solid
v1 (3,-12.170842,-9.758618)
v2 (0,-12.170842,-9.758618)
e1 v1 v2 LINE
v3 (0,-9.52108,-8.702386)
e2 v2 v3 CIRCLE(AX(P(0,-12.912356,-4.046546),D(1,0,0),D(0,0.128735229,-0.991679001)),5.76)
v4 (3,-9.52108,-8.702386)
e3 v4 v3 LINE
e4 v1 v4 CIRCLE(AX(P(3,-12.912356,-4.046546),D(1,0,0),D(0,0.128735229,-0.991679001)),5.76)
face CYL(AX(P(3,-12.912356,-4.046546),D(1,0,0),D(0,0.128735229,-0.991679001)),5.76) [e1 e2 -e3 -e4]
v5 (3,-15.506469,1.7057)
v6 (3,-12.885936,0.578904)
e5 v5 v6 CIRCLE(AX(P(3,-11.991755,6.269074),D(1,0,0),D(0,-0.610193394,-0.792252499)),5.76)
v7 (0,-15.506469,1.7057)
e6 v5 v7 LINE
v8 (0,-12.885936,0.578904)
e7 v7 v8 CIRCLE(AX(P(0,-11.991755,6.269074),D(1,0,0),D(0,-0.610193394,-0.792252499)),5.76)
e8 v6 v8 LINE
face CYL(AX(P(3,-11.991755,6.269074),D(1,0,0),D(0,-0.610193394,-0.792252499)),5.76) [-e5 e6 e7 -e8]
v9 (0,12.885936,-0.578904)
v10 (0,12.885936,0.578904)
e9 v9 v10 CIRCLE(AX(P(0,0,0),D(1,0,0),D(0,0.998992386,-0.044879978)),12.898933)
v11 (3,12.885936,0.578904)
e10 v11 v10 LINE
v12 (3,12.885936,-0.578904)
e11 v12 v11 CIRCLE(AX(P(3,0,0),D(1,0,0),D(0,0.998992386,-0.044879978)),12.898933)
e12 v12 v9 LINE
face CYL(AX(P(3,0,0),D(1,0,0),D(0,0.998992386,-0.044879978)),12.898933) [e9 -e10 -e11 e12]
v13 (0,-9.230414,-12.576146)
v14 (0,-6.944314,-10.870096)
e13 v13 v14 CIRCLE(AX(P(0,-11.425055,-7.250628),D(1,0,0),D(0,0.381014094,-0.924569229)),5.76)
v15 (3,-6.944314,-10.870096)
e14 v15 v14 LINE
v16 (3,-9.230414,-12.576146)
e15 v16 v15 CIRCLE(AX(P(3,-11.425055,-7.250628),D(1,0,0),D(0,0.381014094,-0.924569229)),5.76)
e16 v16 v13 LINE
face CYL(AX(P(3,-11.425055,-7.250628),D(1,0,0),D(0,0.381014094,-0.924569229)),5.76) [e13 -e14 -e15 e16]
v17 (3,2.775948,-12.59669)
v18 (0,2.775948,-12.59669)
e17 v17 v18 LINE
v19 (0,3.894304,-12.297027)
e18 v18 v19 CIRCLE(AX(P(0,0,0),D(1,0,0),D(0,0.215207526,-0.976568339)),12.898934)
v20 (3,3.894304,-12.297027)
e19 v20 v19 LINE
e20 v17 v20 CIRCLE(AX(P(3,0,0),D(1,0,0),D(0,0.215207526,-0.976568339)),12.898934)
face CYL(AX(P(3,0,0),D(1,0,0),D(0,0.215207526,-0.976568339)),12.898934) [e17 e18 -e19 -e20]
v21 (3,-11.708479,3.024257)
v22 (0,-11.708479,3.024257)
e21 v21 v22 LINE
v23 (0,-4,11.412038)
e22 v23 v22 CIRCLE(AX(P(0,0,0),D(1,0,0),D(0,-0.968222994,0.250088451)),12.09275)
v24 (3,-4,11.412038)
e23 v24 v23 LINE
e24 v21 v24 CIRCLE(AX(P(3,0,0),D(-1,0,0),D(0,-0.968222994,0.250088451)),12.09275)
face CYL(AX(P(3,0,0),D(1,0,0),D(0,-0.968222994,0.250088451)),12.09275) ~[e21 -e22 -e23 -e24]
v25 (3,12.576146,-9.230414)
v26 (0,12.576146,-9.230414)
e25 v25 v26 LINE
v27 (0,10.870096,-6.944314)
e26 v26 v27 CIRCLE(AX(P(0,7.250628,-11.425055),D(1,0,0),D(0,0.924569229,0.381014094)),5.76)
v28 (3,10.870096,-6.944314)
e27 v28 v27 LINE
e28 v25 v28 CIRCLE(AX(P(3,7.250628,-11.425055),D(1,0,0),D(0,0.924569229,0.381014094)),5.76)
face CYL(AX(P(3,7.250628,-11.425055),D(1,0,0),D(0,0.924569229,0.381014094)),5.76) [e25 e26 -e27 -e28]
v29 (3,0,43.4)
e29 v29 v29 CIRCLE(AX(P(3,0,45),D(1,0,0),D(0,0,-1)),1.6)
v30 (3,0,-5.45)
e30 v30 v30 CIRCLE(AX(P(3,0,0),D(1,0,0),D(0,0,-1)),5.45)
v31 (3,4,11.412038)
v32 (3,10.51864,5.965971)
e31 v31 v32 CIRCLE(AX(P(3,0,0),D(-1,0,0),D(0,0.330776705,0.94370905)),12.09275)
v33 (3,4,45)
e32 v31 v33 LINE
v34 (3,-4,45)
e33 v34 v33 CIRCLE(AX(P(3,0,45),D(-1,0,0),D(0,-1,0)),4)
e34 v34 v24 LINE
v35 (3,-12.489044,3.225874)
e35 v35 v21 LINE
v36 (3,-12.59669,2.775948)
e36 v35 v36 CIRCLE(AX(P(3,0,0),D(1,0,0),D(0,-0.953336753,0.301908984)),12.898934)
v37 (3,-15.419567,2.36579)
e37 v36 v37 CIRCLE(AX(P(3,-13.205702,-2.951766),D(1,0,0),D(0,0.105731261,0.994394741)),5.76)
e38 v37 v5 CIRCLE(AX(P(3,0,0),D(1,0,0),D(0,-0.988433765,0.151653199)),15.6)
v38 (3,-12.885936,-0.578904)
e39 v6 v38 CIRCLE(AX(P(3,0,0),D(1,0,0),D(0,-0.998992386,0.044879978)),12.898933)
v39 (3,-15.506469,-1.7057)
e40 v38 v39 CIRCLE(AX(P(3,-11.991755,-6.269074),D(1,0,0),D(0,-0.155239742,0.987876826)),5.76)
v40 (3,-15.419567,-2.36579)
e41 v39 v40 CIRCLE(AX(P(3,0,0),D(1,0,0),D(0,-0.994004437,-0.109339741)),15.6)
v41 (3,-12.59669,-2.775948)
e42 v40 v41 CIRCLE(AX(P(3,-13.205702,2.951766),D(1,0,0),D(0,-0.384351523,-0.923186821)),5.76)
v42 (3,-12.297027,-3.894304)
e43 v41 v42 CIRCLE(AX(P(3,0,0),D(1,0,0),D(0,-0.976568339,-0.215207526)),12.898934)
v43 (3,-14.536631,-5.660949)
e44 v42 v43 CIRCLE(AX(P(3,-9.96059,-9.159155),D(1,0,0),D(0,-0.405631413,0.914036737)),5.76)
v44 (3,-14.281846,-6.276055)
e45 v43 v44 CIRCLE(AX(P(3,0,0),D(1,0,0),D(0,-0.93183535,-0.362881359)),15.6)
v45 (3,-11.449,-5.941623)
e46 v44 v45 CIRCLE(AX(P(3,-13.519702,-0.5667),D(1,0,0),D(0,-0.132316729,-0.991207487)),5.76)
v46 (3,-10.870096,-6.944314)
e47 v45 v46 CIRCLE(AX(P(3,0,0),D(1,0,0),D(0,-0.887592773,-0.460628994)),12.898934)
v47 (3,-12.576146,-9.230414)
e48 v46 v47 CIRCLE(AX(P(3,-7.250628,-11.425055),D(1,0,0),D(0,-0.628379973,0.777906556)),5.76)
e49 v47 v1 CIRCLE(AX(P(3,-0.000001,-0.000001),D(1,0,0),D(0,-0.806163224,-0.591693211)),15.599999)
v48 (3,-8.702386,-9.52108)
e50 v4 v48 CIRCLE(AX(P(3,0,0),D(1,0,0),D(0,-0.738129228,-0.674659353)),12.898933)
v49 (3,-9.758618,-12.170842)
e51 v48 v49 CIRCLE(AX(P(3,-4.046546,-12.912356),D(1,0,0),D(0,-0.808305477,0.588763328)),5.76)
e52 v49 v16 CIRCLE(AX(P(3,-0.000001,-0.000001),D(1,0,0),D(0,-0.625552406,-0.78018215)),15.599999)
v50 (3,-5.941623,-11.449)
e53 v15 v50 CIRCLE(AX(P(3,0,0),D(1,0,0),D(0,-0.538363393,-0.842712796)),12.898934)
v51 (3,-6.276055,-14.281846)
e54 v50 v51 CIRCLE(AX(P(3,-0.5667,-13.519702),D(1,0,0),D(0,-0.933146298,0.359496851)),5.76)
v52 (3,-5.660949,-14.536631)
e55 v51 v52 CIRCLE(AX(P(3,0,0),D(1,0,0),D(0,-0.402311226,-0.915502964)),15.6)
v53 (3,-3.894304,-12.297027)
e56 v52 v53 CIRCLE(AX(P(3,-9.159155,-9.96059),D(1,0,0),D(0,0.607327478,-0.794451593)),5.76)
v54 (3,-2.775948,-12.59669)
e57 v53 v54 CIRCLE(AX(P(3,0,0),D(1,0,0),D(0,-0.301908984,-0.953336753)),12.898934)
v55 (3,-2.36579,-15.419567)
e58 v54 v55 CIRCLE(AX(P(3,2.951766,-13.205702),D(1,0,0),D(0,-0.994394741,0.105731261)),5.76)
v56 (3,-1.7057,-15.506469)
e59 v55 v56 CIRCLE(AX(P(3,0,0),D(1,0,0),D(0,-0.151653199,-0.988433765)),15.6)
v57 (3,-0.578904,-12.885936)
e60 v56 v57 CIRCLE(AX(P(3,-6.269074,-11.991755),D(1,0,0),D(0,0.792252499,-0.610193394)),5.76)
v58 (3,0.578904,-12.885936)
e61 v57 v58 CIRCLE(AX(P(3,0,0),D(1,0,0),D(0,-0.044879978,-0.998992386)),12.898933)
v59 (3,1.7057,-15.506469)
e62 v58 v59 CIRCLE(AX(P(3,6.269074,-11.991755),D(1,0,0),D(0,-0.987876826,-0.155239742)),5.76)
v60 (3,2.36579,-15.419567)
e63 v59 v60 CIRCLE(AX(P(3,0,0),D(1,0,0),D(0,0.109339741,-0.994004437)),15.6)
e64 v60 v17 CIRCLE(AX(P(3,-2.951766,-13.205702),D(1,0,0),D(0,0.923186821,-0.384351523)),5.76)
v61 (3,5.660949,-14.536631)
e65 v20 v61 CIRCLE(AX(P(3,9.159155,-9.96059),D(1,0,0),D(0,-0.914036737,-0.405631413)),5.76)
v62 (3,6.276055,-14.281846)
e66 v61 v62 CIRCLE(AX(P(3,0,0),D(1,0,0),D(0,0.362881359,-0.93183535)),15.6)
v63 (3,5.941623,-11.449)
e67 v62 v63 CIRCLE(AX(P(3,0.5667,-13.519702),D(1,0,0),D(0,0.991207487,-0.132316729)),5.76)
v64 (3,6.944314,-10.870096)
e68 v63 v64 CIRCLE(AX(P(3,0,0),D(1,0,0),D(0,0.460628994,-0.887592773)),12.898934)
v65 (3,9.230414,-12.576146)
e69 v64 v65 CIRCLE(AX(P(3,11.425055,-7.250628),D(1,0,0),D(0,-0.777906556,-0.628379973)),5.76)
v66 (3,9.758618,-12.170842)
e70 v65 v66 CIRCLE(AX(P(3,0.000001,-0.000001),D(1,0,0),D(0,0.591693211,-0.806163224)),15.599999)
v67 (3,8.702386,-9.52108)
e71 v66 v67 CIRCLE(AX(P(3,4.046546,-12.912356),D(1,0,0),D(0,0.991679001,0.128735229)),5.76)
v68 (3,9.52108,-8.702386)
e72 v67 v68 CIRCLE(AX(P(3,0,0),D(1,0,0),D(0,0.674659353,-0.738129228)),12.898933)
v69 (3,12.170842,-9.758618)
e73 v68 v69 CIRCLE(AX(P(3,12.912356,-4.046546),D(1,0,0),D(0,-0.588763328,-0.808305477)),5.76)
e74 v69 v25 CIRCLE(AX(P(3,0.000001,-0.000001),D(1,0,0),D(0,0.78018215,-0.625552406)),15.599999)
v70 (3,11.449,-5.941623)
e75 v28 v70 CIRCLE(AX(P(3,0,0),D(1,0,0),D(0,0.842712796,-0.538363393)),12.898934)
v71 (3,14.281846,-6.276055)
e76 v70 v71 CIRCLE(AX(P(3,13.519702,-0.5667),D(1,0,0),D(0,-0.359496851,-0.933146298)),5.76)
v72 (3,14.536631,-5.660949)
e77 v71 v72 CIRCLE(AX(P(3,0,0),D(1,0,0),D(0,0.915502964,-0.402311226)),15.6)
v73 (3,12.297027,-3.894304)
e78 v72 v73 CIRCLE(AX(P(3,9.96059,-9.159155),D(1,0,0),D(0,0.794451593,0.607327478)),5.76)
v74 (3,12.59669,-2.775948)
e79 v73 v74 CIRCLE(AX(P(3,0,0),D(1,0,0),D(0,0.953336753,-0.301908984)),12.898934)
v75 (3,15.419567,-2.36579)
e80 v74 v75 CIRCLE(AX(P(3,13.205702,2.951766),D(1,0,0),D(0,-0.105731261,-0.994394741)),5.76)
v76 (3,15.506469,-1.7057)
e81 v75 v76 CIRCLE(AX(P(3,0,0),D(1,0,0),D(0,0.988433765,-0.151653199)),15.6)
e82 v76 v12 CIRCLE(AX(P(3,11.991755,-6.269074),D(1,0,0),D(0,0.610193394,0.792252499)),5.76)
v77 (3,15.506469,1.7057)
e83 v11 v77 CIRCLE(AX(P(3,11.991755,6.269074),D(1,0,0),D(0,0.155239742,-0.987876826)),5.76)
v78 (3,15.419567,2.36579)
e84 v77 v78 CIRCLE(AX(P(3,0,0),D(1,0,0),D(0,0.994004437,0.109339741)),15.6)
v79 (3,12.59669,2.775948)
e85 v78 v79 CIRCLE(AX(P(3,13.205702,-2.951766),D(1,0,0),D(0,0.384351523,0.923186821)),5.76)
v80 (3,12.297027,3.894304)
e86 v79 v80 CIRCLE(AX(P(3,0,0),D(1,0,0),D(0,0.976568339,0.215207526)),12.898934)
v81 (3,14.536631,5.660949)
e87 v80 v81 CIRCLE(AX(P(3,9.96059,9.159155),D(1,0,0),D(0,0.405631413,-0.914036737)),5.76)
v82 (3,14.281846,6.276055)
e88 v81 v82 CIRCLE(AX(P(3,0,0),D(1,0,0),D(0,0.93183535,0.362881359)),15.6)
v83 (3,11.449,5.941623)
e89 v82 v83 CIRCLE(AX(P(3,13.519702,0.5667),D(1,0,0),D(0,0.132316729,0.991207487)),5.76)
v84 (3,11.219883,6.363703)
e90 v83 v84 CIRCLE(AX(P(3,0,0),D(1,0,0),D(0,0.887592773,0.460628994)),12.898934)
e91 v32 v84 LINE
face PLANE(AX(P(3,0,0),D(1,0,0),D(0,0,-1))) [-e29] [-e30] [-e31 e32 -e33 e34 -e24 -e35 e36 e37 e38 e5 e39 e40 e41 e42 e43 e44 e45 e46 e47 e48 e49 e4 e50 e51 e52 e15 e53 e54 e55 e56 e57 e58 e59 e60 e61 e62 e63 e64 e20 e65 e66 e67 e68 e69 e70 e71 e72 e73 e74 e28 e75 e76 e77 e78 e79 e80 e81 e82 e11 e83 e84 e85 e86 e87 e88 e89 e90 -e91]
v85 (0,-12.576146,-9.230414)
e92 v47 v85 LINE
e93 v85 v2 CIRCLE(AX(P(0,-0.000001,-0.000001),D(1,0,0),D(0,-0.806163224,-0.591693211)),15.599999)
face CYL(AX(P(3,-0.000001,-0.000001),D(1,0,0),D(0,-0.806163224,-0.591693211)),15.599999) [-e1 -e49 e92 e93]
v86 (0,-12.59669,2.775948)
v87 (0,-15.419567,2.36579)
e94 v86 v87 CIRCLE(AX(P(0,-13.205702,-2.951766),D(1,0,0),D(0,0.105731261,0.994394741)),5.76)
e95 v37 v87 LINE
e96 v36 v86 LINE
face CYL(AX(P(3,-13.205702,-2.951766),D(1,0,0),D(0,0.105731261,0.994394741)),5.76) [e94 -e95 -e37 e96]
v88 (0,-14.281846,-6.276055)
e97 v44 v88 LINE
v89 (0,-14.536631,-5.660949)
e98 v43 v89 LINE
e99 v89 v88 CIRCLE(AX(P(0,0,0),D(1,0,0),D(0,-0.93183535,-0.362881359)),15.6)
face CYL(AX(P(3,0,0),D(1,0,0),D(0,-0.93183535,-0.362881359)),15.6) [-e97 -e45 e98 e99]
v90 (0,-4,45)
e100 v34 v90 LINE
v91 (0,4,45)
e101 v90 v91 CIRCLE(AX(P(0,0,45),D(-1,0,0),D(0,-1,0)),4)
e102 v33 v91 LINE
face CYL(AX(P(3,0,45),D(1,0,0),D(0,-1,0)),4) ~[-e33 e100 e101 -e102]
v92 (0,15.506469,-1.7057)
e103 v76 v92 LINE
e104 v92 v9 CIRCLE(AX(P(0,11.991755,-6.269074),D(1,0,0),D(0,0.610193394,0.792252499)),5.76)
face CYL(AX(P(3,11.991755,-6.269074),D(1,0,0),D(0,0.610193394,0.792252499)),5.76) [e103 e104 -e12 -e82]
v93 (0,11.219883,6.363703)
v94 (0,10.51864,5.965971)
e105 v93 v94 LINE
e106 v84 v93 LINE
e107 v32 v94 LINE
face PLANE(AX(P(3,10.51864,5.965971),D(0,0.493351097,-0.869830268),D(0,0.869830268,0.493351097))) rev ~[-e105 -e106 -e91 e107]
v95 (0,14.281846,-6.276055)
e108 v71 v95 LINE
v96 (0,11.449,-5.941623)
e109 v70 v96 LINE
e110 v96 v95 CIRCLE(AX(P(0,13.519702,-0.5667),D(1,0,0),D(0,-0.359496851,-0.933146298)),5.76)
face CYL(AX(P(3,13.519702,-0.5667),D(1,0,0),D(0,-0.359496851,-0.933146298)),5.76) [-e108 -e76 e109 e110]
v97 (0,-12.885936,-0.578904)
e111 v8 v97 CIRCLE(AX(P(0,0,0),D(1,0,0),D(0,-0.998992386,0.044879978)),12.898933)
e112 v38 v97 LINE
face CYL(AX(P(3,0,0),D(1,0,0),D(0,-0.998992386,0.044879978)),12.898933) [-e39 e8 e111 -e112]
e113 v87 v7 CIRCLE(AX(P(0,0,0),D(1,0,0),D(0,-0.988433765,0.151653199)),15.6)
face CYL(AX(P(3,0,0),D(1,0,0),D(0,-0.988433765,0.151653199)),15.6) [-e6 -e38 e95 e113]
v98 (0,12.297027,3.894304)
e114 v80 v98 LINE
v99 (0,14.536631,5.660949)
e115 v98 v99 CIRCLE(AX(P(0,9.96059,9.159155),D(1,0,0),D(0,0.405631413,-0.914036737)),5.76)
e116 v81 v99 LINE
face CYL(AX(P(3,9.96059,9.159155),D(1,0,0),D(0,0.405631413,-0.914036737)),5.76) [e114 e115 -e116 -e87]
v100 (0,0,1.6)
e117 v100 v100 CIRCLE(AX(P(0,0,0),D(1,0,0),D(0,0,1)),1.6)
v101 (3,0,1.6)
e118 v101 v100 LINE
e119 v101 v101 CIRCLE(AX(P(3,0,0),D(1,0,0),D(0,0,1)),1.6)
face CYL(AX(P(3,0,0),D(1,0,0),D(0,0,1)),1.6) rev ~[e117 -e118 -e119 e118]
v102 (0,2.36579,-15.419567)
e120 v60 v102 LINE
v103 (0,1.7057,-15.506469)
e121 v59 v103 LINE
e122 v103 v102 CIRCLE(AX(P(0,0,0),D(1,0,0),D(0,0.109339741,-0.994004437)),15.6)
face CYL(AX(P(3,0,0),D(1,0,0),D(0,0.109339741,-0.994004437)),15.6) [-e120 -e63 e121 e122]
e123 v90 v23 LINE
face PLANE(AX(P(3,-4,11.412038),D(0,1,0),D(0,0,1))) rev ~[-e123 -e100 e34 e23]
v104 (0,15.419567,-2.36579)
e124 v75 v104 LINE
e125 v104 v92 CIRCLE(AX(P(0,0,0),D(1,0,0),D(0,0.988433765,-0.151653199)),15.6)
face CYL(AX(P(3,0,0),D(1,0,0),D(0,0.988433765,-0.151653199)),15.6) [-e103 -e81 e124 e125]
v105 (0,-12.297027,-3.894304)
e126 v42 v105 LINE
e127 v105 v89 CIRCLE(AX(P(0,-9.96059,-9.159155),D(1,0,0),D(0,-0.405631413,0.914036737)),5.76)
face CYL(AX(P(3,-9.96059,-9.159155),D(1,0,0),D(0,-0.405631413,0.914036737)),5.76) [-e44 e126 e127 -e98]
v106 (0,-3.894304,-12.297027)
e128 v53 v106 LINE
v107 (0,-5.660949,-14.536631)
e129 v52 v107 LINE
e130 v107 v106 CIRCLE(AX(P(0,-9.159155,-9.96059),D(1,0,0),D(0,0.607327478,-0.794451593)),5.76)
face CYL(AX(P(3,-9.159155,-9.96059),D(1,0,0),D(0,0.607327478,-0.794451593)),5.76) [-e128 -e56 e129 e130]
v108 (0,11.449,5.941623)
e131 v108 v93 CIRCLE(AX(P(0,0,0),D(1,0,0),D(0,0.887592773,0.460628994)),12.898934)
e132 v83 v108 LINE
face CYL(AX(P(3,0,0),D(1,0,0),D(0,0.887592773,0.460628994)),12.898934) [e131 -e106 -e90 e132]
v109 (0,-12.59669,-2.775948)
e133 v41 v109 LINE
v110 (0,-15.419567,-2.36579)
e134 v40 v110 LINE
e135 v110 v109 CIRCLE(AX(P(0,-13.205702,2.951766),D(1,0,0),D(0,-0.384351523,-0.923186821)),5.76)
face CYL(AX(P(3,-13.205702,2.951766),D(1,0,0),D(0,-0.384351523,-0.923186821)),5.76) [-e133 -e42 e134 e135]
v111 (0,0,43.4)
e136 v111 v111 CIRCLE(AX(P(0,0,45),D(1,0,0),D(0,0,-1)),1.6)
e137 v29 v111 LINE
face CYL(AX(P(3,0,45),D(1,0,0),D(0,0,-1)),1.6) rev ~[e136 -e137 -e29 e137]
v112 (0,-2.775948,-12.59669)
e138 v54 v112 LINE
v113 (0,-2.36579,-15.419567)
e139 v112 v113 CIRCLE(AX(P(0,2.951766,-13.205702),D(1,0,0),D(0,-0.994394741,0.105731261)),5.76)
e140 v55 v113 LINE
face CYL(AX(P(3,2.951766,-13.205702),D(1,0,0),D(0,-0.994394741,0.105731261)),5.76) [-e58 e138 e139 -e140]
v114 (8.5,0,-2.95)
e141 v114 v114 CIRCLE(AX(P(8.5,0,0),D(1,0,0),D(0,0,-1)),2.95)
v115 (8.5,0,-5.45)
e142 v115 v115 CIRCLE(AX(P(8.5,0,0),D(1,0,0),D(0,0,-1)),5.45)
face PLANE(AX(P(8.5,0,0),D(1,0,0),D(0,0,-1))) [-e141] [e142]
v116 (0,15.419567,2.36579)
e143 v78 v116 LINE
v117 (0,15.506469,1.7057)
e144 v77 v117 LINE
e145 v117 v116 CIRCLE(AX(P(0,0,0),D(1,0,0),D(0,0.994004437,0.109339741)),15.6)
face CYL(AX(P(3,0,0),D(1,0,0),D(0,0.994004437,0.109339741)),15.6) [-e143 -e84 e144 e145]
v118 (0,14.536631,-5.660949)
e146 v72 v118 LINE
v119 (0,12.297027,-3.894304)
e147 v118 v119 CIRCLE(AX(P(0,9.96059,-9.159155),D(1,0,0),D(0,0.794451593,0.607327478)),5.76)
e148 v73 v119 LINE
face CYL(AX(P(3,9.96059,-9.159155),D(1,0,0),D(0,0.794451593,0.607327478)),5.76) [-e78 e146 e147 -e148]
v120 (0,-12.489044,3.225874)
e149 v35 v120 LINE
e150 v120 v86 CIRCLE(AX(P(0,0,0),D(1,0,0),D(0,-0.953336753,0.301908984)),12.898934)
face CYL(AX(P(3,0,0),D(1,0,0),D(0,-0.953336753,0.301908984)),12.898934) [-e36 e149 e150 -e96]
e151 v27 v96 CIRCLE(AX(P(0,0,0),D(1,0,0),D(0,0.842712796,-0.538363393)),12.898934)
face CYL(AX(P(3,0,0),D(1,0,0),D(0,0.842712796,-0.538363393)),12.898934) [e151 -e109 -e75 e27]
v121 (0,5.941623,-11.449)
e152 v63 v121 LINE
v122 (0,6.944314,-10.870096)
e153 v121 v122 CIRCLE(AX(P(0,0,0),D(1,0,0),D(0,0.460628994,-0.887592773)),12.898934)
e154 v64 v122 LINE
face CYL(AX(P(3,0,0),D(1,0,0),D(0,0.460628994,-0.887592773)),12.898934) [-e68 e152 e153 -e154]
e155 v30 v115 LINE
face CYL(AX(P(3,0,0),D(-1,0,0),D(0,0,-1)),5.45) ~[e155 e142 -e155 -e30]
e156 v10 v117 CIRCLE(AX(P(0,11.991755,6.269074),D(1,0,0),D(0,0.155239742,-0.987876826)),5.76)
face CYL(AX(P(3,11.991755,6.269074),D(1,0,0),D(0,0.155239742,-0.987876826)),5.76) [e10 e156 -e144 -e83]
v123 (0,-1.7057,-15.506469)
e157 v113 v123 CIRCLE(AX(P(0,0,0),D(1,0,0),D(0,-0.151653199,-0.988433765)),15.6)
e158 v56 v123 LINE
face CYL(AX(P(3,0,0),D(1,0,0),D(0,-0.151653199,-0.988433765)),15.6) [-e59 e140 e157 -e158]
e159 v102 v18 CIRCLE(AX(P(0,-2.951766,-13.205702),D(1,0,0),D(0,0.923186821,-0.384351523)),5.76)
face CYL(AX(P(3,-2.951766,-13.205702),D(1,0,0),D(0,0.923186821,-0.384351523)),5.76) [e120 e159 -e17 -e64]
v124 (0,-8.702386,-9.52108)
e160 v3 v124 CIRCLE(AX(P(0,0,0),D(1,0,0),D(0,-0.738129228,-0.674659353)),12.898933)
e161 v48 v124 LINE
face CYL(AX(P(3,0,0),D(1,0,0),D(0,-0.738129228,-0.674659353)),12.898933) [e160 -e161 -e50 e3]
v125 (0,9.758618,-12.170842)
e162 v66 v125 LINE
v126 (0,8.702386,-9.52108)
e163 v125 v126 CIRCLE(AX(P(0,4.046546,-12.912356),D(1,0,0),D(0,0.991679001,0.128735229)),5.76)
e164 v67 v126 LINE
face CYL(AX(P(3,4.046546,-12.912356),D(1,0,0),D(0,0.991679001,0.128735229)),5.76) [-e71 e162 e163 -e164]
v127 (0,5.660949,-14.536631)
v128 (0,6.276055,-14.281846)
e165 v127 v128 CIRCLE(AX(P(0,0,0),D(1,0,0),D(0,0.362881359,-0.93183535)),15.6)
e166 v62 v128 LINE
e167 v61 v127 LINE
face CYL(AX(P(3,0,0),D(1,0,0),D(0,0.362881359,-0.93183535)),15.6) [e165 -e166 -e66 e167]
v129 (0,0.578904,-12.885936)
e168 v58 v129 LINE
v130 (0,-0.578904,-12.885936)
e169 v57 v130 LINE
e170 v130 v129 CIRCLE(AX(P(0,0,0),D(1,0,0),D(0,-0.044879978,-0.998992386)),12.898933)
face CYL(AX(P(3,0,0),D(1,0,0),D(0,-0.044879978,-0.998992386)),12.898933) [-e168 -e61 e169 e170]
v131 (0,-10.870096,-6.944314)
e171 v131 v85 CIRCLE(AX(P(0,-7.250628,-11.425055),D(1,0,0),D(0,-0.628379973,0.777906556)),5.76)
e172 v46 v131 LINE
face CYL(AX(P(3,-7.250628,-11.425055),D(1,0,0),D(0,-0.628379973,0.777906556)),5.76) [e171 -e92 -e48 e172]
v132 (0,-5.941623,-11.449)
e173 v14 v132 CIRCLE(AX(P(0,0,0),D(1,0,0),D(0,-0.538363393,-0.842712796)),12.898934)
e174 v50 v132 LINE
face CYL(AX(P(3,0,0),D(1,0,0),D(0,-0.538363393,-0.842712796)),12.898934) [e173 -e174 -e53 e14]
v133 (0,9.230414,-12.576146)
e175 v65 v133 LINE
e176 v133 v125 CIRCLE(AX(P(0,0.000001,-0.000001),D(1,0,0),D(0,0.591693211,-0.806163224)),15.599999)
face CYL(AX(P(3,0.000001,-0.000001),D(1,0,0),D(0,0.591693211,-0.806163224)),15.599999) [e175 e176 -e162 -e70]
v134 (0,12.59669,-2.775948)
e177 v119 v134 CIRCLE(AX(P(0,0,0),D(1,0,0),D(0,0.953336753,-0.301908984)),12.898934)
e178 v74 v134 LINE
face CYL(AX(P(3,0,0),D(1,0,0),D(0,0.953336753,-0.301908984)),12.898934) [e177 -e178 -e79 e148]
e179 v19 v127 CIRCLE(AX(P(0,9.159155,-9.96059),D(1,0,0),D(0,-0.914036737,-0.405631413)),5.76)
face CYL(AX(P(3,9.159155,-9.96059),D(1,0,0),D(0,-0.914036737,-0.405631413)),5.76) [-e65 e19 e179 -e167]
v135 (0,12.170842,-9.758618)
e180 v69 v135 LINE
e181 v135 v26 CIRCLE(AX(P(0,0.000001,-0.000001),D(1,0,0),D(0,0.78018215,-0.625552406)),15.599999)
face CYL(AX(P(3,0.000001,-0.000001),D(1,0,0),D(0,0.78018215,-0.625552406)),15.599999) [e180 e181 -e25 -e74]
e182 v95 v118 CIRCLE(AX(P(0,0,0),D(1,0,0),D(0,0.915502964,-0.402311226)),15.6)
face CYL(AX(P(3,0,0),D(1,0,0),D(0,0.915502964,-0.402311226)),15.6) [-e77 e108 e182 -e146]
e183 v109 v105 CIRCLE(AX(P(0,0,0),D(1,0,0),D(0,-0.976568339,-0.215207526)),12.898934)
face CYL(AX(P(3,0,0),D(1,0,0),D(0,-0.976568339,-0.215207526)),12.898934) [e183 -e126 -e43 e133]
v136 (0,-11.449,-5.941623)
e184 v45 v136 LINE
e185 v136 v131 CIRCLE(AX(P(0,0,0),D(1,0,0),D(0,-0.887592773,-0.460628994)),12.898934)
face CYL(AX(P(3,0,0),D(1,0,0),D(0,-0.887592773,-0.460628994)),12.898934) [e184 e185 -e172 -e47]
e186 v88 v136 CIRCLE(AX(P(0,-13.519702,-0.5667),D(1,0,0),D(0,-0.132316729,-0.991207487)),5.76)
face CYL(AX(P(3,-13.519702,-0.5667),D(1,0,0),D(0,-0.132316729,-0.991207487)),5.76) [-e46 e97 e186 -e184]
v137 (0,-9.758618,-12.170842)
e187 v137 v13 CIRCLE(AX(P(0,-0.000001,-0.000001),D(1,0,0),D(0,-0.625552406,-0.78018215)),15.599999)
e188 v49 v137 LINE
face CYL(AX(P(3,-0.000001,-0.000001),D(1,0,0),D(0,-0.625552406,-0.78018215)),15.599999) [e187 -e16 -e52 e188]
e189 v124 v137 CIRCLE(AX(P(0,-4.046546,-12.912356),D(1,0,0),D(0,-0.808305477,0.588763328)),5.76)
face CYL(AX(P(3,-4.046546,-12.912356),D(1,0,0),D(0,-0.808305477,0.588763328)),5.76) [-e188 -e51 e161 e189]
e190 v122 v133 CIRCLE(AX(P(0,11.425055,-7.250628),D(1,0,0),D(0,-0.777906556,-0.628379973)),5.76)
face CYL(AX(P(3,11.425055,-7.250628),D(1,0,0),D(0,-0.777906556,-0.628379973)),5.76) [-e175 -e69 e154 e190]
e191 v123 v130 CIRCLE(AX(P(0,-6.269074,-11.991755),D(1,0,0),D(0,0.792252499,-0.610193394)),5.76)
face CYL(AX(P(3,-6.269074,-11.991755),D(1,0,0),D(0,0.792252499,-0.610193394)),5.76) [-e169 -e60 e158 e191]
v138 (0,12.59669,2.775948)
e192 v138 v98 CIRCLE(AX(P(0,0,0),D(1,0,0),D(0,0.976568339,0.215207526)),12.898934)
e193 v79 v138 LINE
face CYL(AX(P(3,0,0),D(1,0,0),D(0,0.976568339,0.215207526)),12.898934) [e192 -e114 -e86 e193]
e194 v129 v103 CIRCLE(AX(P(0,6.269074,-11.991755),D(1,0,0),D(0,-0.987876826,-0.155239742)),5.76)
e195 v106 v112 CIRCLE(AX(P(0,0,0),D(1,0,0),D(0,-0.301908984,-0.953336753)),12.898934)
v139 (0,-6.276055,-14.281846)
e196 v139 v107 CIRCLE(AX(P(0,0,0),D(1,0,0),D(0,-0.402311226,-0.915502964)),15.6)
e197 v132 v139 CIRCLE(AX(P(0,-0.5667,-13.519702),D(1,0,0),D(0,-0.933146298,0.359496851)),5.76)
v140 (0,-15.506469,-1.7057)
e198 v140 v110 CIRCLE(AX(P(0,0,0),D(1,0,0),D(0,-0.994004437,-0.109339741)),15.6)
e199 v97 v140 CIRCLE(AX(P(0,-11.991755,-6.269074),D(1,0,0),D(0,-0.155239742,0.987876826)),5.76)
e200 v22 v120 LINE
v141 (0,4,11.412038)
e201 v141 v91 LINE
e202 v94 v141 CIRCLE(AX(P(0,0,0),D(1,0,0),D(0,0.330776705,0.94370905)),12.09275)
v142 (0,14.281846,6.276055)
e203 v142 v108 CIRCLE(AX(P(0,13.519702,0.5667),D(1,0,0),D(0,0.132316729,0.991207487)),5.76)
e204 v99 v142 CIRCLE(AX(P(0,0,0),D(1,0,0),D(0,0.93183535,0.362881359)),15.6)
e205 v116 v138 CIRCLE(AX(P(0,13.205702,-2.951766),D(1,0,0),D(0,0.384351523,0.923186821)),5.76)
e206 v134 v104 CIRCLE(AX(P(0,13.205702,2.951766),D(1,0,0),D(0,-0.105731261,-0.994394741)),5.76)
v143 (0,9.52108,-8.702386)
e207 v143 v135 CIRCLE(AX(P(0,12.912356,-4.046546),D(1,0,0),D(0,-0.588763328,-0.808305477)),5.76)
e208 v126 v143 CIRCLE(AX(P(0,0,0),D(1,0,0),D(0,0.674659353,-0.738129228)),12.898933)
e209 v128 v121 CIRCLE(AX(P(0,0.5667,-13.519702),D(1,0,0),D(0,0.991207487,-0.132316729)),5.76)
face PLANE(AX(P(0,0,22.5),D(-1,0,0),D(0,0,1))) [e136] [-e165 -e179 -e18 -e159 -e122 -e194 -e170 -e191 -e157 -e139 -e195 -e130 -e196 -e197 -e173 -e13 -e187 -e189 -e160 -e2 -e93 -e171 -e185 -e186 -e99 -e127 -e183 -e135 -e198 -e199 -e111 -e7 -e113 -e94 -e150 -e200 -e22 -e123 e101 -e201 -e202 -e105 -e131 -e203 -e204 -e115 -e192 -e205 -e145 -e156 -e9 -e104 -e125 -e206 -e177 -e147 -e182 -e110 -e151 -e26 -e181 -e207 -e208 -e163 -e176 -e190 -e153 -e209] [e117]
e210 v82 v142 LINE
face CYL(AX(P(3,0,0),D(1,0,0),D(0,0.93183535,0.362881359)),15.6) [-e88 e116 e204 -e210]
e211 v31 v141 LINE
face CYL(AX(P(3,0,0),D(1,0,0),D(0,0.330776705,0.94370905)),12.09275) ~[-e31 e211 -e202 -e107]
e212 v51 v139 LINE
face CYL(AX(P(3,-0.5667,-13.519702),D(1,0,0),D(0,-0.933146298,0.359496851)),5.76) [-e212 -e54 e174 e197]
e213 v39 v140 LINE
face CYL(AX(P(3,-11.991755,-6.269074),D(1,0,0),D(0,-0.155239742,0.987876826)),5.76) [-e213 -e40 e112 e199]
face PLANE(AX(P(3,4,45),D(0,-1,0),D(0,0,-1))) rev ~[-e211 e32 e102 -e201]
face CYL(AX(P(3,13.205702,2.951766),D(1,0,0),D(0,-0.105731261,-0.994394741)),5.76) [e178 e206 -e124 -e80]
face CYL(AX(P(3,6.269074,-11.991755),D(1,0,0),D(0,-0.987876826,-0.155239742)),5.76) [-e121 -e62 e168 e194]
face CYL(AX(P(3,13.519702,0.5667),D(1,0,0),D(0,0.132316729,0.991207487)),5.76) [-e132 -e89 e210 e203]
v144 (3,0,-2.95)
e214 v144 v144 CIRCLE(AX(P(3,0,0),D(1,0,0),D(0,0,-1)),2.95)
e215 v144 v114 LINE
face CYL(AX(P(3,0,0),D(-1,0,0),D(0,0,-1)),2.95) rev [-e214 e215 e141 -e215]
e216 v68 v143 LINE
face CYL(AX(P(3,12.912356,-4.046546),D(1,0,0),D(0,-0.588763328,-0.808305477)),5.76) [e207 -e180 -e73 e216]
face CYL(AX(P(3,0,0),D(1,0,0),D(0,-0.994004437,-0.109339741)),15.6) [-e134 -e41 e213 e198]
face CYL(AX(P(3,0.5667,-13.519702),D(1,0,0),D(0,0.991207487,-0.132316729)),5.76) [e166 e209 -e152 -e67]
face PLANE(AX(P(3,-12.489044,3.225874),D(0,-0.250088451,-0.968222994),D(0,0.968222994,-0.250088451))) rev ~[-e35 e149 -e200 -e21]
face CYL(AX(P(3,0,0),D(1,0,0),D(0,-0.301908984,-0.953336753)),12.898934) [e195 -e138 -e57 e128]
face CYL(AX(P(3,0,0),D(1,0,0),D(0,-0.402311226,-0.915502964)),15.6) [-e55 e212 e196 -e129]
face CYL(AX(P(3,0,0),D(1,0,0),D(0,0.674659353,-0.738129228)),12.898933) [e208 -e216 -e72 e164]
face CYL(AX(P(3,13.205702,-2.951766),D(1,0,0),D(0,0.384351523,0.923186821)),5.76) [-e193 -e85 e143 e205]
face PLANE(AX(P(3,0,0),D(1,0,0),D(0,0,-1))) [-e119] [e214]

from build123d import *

# Parameters (mm, degrees)
SKETCH1_R           = 1.6
BOSS_EXTRUDE1_DEPTH = 3
SKETCH2_R           = 1.6
SKETCH2_R_2         = 1.75
BOSS_EXTRUDE2_DEPTH = 3
CUT_EXTRUDE1_DEPTH  = 10
SKETCH4_R           = 5.45
SKETCH4_R_2         = 2.95
BOSS_EXTRUDE3_DEPTH = 5.5


with BuildPart() as part:
    # Sketch1 → Boss-Extrude1 (new body)
    with BuildSketch(Plane(origin=(3, 0, 0), x_dir=(0, 0, -1), z_dir=(1, 0, 0))):
        with BuildLine():
            ThreePointArc((-15.506469218, 1.705699967), (-14.267058736, 0.977515599), (-12.885936189, 0.578903848))
            ThreePointArc((-12.885936189, 0.578903848), (-12.898933333, 0), (-12.885936189, -0.578903848))
            ThreePointArc((-12.885936189, -0.578903848), (-14.267058736, -0.977515599), (-15.506469218, -1.705699967))
            ThreePointArc((-15.506469218, -1.705699967), (-15.466539837, -2.036208599), (-15.419566729, -2.365789906))
            ThreePointArc((-15.419566729, -2.365789906), (-14.033920152, -2.748378956), (-12.596689902, -2.775947522))
            ThreePointArc((-12.596689902, -2.775947522), (-12.459412838, -3.338489608), (-12.29702722, -3.894303878))
            ThreePointArc((-12.29702722, -3.894303878), (-13.527920844, -4.636794081), (-14.536631456, -5.660949206))
            ThreePointArc((-14.536631456, -5.660949206), (-14.412520707, -5.969861545), (-14.281846249, -6.276055107))
            ThreePointArc((-14.281846249, -6.276055107), (-12.844393102, -6.286976026), (-11.449000016, -5.941622656))
            ThreePointArc((-11.449000016, -5.941622656), (-11.170803948, -6.449466667), (-10.870096167, -6.944313534))
            ThreePointArc((-10.870096167, -6.944313534), (-11.866877503, -7.98008271), (-12.576146283, -9.230414112))
            ThreePointArc((-12.576146283, -9.230414112), (-12.376312109, -9.496678293), (-12.17084155, -9.758617524))
            ThreePointArc((-12.17084155, -9.758617524), (-10.779541889, -9.397126071), (-9.521079698, -8.702386024))
            ThreePointArc((-9.521079698, -8.702386024), (-9.12092323, -9.12092323), (-8.702386024, -9.521079698))
            ThreePointArc((-8.702386024, -9.521079698), (-9.397126071, -10.779541889), (-9.758617524, -12.17084155))
            ThreePointArc((-9.758617524, -12.17084155), (-9.496678293, -12.376312109), (-9.230414112, -12.576146283))
            ThreePointArc((-9.230414112, -12.576146283), (-7.98008271, -11.866877503), (-6.944313534, -10.870096167))
            ThreePointArc((-6.944313534, -10.870096167), (-6.449466667, -11.170803948), (-5.941622656, -11.449000016))
            ThreePointArc((-5.941622656, -11.449000016), (-6.286976026, -12.844393102), (-6.276055107, -14.281846249))
            ThreePointArc((-6.276055107, -14.281846249), (-5.969861545, -14.412520707), (-5.660949206, -14.536631456))
            ThreePointArc((-5.660949206, -14.536631456), (-4.636794081, -13.527920844), (-3.894303878, -12.29702722))
            ThreePointArc((-3.894303878, -12.29702722), (-3.338489608, -12.459412838), (-2.775947522, -12.596689902))
            ThreePointArc((-2.775947522, -12.596689902), (-2.748378956, -14.033920152), (-2.365789906, -15.419566729))
            ThreePointArc((-2.365789906, -15.419566729), (-2.036208599, -15.466539837), (-1.705699967, -15.506469218))
            ThreePointArc((-1.705699967, -15.506469218), (-0.977515599, -14.267058736), (-0.578903848, -12.885936189))
            ThreePointArc((-0.578903848, -12.885936189), (0, -12.898933333), (0.578903848, -12.885936189))
            ThreePointArc((0.578903848, -12.885936189), (0.977515599, -14.267058736), (1.705699967, -15.506469218))
            ThreePointArc((1.705699967, -15.506469218), (2.036208599, -15.466539837), (2.365789906, -15.419566729))
            ThreePointArc((2.365789906, -15.419566729), (2.748378956, -14.033920152), (2.775947522, -12.596689902))
            ThreePointArc((2.775947522, -12.596689902), (3.338489608, -12.459412838), (3.894303878, -12.29702722))
            ThreePointArc((3.894303878, -12.29702722), (4.636794081, -13.527920844), (5.660949206, -14.536631456))
            ThreePointArc((5.660949206, -14.536631456), (5.969861545, -14.412520707), (6.276055107, -14.281846249))
            ThreePointArc((6.276055107, -14.281846249), (6.286976026, -12.844393102), (5.941622656, -11.449000016))
            ThreePointArc((5.941622656, -11.449000016), (6.449466667, -11.170803948), (6.944313534, -10.870096167))
            ThreePointArc((6.944313534, -10.870096167), (7.98008271, -11.866877503), (9.230414112, -12.576146283))
            ThreePointArc((9.230414112, -12.576146283), (9.496678293, -12.376312109), (9.758617524, -12.17084155))
            ThreePointArc((9.758617524, -12.17084155), (9.397126071, -10.779541889), (8.702386024, -9.521079698))
            ThreePointArc((8.702386024, -9.521079698), (9.12092323, -9.12092323), (9.521079698, -8.702386024))
            ThreePointArc((9.521079698, -8.702386024), (10.779541889, -9.397126071), (12.17084155, -9.758617524))
            ThreePointArc((12.17084155, -9.758617524), (12.376312109, -9.496678293), (12.576146283, -9.230414112))
            ThreePointArc((12.576146283, -9.230414112), (11.866877503, -7.98008271), (10.870096167, -6.944313534))
            ThreePointArc((10.870096167, -6.944313534), (11.170803948, -6.449466667), (11.449000016, -5.941622656))
            ThreePointArc((11.449000016, -5.941622656), (12.844393102, -6.286976026), (14.281846249, -6.276055107))
            ThreePointArc((14.281846249, -6.276055107), (14.412520707, -5.969861545), (14.536631456, -5.660949206))
            ThreePointArc((14.536631456, -5.660949206), (13.527920844, -4.636794081), (12.29702722, -3.894303878))
            ThreePointArc((12.29702722, -3.894303878), (12.459412838, -3.338489608), (12.596689902, -2.775947522))
            ThreePointArc((12.596689902, -2.775947522), (14.033920152, -2.748378956), (15.419566729, -2.365789906))
            ThreePointArc((15.419566729, -2.365789906), (15.466539837, -2.036208599), (15.506469218, -1.705699967))
            ThreePointArc((15.506469218, -1.705699967), (14.267058736, -0.977515599), (12.885936189, -0.578903848))
            ThreePointArc((12.885936189, -0.578903848), (12.898933333, 0), (12.885936189, 0.578903848))
            ThreePointArc((12.885936189, 0.578903848), (14.267058736, 0.977515599), (15.506469218, 1.705699967))
            ThreePointArc((15.506469218, 1.705699967), (15.466539837, 2.036208599), (15.419566729, 2.365789906))
            ThreePointArc((15.419566729, 2.365789906), (14.033920152, 2.748378956), (12.596689902, 2.775947522))
            ThreePointArc((12.596689902, 2.775947522), (12.459412838, 3.338489608), (12.29702722, 3.894303878))
            ThreePointArc((12.29702722, 3.894303878), (13.527920844, 4.636794081), (14.536631456, 5.660949206))
            ThreePointArc((14.536631456, 5.660949206), (14.412520707, 5.969861545), (14.281846249, 6.276055107))
            ThreePointArc((14.281846249, 6.276055107), (12.844393102, 6.286976026), (11.449000016, 5.941622656))
            ThreePointArc((11.449000016, 5.941622656), (11.170803948, 6.449466667), (10.870096167, 6.944313534))
            ThreePointArc((10.870096167, 6.944313534), (11.866877503, 7.98008271), (12.576146283, 9.230414112))
            ThreePointArc((12.576146283, 9.230414112), (12.376312109, 9.496678293), (12.17084155, 9.758617524))
            ThreePointArc((12.17084155, 9.758617524), (10.779541889, 9.397126071), (9.521079698, 8.702386024))
            ThreePointArc((9.521079698, 8.702386024), (9.12092323, 9.12092323), (8.702386024, 9.521079698))
            ThreePointArc((8.702386024, 9.521079698), (9.397126071, 10.779541889), (9.758617524, 12.17084155))
            ThreePointArc((9.758617524, 12.17084155), (9.496678293, 12.376312109), (9.230414112, 12.576146283))
            ThreePointArc((9.230414112, 12.576146283), (7.98008271, 11.866877503), (6.944313534, 10.870096167))
            ThreePointArc((6.944313534, 10.870096167), (6.449466667, 11.170803948), (5.941622656, 11.449000016))
            ThreePointArc((5.941622656, 11.449000016), (6.286976026, 12.844393102), (6.276055107, 14.281846249))
            ThreePointArc((6.276055107, 14.281846249), (5.969861545, 14.412520707), (5.660949206, 14.536631456))
            ThreePointArc((5.660949206, 14.536631456), (4.636794081, 13.527920844), (3.894303878, 12.29702722))
            ThreePointArc((3.894303878, 12.29702722), (3.338489608, 12.459412838), (2.775947522, 12.596689902))
            ThreePointArc((2.775947522, 12.596689902), (2.748378956, 14.033920152), (2.365789906, 15.419566729))
            ThreePointArc((2.365789906, 15.419566729), (2.036208599, 15.466539837), (1.705699967, 15.506469218))
            ThreePointArc((1.705699967, 15.506469218), (0.977515599, 14.267058736), (0.578903848, 12.885936189))
            ThreePointArc((0.578903848, 12.885936189), (0, 12.898933333), (-0.578903848, 12.885936189))
            ThreePointArc((-0.578903848, 12.885936189), (-0.977515599, 14.267058736), (-1.705699967, 15.506469218))
            ThreePointArc((-1.705699967, 15.506469218), (-2.036208599, 15.466539837), (-2.365789906, 15.419566729))
            ThreePointArc((-2.365789906, 15.419566729), (-2.748378956, 14.033920152), (-2.775947522, 12.596689902))
            ThreePointArc((-2.775947522, 12.596689902), (-3.338489608, 12.459412838), (-3.894303878, 12.29702722))
            ThreePointArc((-3.894303878, 12.29702722), (-4.636794081, 13.527920844), (-5.660949206, 14.536631456))
            ThreePointArc((-5.660949206, 14.536631456), (-5.969861545, 14.412520707), (-6.276055107, 14.281846249))
            ThreePointArc((-6.276055107, 14.281846249), (-6.286976026, 12.844393102), (-5.941622656, 11.449000016))
            ThreePointArc((-5.941622656, 11.449000016), (-6.449466667, 11.170803948), (-6.944313534, 10.870096167))
            ThreePointArc((-6.944313534, 10.870096167), (-7.98008271, 11.866877503), (-9.230414112, 12.576146283))
            ThreePointArc((-9.230414112, 12.576146283), (-9.496678293, 12.376312109), (-9.758617524, 12.17084155))
            ThreePointArc((-9.758617524, 12.17084155), (-9.397126071, 10.779541889), (-8.702386024, 9.521079698))
            ThreePointArc((-8.702386024, 9.521079698), (-9.12092323, 9.12092323), (-9.521079698, 8.702386024))
            ThreePointArc((-9.521079698, 8.702386024), (-10.779541889, 9.397126071), (-12.17084155, 9.758617524))
            ThreePointArc((-12.17084155, 9.758617524), (-12.376312109, 9.496678293), (-12.576146283, 9.230414112))
            ThreePointArc((-12.576146283, 9.230414112), (-11.866877503, 7.98008271), (-10.870096167, 6.944313534))
            ThreePointArc((-10.870096167, 6.944313534), (-11.170803948, 6.449466667), (-11.449000016, 5.941622656))
            ThreePointArc((-11.449000016, 5.941622656), (-12.844393102, 6.286976026), (-14.281846249, 6.276055107))
            ThreePointArc((-14.281846249, 6.276055107), (-14.412520707, 5.969861545), (-14.536631456, 5.660949206))
            ThreePointArc((-14.536631456, 5.660949206), (-13.527920844, 4.636794081), (-12.29702722, 3.894303878))
            ThreePointArc((-12.29702722, 3.894303878), (-12.459412838, 3.338489608), (-12.596689902, 2.775947522))
            ThreePointArc((-12.596689902, 2.775947522), (-14.033920152, 2.748378956), (-15.419566729, 2.365789906))
            ThreePointArc((-15.419566729, 2.365789906), (-15.466539837, 2.036208599), (-15.506469218, 1.705699967))
        make_face()
        with Locations(Location((0, 0, 0), (0, 0, 180))):
            Circle(SKETCH1_R, mode=Mode.SUBTRACT)
    extrude(amount=-BOSS_EXTRUDE1_DEPTH)

    # Sketch2 → Boss-Extrude2 (add)
    with BuildSketch(Plane(origin=(3, 0, 0), x_dir=(0, 0, -1), z_dir=(1, 0, 0))):
        with BuildLine():
            Line((0, -4), (-45, -4))
            ThreePointArc((-45, -4), (-49, 0), (-45, 4))
            Line((-45, 4), (0, 4))
            ThreePointArc((0, 4), (4, 0), (0, -4))
        make_face()
        with Locations((-45, 0)):
            Circle(SKETCH2_R, mode=Mode.SUBTRACT)
        Circle(SKETCH2_R_2, mode=Mode.SUBTRACT)
    extrude(amount=-BOSS_EXTRUDE2_DEPTH)

    # Sketch3 → Cut-Extrude1 (cut)
    with BuildSketch(Plane(origin=(3, 0, 0), x_dir=(0, 0, -1), z_dir=(1, 0, 0))):
        with BuildLine():
            Line((-12.521979493, 4), (-11.412037617, 4))
            ThreePointArc((-11.412037617, 4), (-9.280192177, 7.753233888), (-5.965971484, 10.51863997))
            Line((-5.965971484, 10.51863997), (-6.363702916, 11.219882635))
            ThreePointArc((-6.363702916, 11.219882635), (-6.656306265, 11.048803919), (-6.944313534, 10.870096167))
            ThreePointArc((-6.944313534, 10.870096167), (-7.98008271, 11.866877503), (-9.230414112, 12.576146283))
            ThreePointArc((-9.230414112, 12.576146283), (-9.496678293, 12.376312109), (-9.758617524, 12.17084155))
            ThreePointArc((-9.758617524, 12.17084155), (-9.397126071, 10.779541889), (-8.702386024, 9.521079698))
            ThreePointArc((-8.702386024, 9.521079698), (-9.12092323, 9.12092323), (-9.521079698, 8.702386024))
            ThreePointArc((-9.521079698, 8.702386024), (-10.779541889, 9.397126071), (-12.17084155, 9.758617524))
            ThreePointArc((-12.17084155, 9.758617524), (-12.376312109, 9.496678293), (-12.576146283, 9.230414112))
            ThreePointArc((-12.576146283, 9.230414112), (-11.866877503, 7.98008271), (-10.870096167, 6.944313534))
            ThreePointArc((-10.870096167, 6.944313534), (-11.170803948, 6.449466667), (-11.449000016, 5.941622656))
            ThreePointArc((-11.449000016, 5.941622656), (-12.844393102, 6.286976026), (-14.281846249, 6.276055107))
            ThreePointArc((-14.281846249, 6.276055107), (-14.412520707, 5.969861545), (-14.536631456, 5.660949206))
            ThreePointArc((-14.536631456, 5.660949206), (-13.624661268, 4.714812585), (-12.521979493, 4))
        make_face()
        with BuildLine():
            ThreePointArc((-3.024257119, -11.708478613), (-8.182714223, -8.903807641), (-11.412037617, -4))
            Line((-11.412037617, -4), (-12.521979493, -4))
            ThreePointArc((-12.521979493, -4), (-13.624661268, -4.714812585), (-14.536631456, -5.660949206))
            ThreePointArc((-14.536631456, -5.660949206), (-14.412520707, -5.969861545), (-14.281846249, -6.276055107))
            ThreePointArc((-14.281846249, -6.276055107), (-12.844393102, -6.286976026), (-11.449000016, -5.941622656))
            ThreePointArc((-11.449000016, -5.941622656), (-11.170803948, -6.449466667), (-10.870096167, -6.944313534))
            ThreePointArc((-10.870096167, -6.944313534), (-11.866877503, -7.98008271), (-12.576146283, -9.230414112))
            ThreePointArc((-12.576146283, -9.230414112), (-12.376312109, -9.496678293), (-12.17084155, -9.758617524))
            ThreePointArc((-12.17084155, -9.758617524), (-10.779541889, -9.397126071), (-9.521079698, -8.702386024))
            ThreePointArc((-9.521079698, -8.702386024), (-9.12092323, -9.12092323), (-8.702386024, -9.521079698))
            ThreePointArc((-8.702386024, -9.521079698), (-9.397126071, -10.779541889), (-9.758617524, -12.17084155))
            ThreePointArc((-9.758617524, -12.17084155), (-9.496678293, -12.376312109), (-9.230414112, -12.576146283))
            ThreePointArc((-9.230414112, -12.576146283), (-7.98008271, -11.866877503), (-6.944313534, -10.870096167))
            ThreePointArc((-6.944313534, -10.870096167), (-6.449466667, -11.170803948), (-5.941622656, -11.449000016))
            ThreePointArc((-5.941622656, -11.449000016), (-6.286976026, -12.844393102), (-6.276055107, -14.281846249))
            ThreePointArc((-6.276055107, -14.281846249), (-5.969861545, -14.412520707), (-5.660949206, -14.536631456))
            ThreePointArc((-5.660949206, -14.536631456), (-4.636794081, -13.527920844), (-3.894303878, -12.29702722))
            ThreePointArc((-3.894303878, -12.29702722), (-3.561383408, -12.397541263), (-3.22587426, -12.489043854))
            Line((-3.22587426, -12.489043854), (-3.024257119, -11.708478613))
        make_face()
    extrude(amount=-CUT_EXTRUDE1_DEPTH, mode=Mode.SUBTRACT)

    # Sketch4 → Boss-Extrude3 (add)
    with BuildSketch(Plane(origin=(3, 0, 0), x_dir=(0, 0, -1), z_dir=(1, 0, 0))):
        Circle(SKETCH4_R)
        Circle(SKETCH4_R_2, mode=Mode.SUBTRACT)
    extrude(amount=BOSS_EXTRUDE3_DEPTH)


solid = part.part
